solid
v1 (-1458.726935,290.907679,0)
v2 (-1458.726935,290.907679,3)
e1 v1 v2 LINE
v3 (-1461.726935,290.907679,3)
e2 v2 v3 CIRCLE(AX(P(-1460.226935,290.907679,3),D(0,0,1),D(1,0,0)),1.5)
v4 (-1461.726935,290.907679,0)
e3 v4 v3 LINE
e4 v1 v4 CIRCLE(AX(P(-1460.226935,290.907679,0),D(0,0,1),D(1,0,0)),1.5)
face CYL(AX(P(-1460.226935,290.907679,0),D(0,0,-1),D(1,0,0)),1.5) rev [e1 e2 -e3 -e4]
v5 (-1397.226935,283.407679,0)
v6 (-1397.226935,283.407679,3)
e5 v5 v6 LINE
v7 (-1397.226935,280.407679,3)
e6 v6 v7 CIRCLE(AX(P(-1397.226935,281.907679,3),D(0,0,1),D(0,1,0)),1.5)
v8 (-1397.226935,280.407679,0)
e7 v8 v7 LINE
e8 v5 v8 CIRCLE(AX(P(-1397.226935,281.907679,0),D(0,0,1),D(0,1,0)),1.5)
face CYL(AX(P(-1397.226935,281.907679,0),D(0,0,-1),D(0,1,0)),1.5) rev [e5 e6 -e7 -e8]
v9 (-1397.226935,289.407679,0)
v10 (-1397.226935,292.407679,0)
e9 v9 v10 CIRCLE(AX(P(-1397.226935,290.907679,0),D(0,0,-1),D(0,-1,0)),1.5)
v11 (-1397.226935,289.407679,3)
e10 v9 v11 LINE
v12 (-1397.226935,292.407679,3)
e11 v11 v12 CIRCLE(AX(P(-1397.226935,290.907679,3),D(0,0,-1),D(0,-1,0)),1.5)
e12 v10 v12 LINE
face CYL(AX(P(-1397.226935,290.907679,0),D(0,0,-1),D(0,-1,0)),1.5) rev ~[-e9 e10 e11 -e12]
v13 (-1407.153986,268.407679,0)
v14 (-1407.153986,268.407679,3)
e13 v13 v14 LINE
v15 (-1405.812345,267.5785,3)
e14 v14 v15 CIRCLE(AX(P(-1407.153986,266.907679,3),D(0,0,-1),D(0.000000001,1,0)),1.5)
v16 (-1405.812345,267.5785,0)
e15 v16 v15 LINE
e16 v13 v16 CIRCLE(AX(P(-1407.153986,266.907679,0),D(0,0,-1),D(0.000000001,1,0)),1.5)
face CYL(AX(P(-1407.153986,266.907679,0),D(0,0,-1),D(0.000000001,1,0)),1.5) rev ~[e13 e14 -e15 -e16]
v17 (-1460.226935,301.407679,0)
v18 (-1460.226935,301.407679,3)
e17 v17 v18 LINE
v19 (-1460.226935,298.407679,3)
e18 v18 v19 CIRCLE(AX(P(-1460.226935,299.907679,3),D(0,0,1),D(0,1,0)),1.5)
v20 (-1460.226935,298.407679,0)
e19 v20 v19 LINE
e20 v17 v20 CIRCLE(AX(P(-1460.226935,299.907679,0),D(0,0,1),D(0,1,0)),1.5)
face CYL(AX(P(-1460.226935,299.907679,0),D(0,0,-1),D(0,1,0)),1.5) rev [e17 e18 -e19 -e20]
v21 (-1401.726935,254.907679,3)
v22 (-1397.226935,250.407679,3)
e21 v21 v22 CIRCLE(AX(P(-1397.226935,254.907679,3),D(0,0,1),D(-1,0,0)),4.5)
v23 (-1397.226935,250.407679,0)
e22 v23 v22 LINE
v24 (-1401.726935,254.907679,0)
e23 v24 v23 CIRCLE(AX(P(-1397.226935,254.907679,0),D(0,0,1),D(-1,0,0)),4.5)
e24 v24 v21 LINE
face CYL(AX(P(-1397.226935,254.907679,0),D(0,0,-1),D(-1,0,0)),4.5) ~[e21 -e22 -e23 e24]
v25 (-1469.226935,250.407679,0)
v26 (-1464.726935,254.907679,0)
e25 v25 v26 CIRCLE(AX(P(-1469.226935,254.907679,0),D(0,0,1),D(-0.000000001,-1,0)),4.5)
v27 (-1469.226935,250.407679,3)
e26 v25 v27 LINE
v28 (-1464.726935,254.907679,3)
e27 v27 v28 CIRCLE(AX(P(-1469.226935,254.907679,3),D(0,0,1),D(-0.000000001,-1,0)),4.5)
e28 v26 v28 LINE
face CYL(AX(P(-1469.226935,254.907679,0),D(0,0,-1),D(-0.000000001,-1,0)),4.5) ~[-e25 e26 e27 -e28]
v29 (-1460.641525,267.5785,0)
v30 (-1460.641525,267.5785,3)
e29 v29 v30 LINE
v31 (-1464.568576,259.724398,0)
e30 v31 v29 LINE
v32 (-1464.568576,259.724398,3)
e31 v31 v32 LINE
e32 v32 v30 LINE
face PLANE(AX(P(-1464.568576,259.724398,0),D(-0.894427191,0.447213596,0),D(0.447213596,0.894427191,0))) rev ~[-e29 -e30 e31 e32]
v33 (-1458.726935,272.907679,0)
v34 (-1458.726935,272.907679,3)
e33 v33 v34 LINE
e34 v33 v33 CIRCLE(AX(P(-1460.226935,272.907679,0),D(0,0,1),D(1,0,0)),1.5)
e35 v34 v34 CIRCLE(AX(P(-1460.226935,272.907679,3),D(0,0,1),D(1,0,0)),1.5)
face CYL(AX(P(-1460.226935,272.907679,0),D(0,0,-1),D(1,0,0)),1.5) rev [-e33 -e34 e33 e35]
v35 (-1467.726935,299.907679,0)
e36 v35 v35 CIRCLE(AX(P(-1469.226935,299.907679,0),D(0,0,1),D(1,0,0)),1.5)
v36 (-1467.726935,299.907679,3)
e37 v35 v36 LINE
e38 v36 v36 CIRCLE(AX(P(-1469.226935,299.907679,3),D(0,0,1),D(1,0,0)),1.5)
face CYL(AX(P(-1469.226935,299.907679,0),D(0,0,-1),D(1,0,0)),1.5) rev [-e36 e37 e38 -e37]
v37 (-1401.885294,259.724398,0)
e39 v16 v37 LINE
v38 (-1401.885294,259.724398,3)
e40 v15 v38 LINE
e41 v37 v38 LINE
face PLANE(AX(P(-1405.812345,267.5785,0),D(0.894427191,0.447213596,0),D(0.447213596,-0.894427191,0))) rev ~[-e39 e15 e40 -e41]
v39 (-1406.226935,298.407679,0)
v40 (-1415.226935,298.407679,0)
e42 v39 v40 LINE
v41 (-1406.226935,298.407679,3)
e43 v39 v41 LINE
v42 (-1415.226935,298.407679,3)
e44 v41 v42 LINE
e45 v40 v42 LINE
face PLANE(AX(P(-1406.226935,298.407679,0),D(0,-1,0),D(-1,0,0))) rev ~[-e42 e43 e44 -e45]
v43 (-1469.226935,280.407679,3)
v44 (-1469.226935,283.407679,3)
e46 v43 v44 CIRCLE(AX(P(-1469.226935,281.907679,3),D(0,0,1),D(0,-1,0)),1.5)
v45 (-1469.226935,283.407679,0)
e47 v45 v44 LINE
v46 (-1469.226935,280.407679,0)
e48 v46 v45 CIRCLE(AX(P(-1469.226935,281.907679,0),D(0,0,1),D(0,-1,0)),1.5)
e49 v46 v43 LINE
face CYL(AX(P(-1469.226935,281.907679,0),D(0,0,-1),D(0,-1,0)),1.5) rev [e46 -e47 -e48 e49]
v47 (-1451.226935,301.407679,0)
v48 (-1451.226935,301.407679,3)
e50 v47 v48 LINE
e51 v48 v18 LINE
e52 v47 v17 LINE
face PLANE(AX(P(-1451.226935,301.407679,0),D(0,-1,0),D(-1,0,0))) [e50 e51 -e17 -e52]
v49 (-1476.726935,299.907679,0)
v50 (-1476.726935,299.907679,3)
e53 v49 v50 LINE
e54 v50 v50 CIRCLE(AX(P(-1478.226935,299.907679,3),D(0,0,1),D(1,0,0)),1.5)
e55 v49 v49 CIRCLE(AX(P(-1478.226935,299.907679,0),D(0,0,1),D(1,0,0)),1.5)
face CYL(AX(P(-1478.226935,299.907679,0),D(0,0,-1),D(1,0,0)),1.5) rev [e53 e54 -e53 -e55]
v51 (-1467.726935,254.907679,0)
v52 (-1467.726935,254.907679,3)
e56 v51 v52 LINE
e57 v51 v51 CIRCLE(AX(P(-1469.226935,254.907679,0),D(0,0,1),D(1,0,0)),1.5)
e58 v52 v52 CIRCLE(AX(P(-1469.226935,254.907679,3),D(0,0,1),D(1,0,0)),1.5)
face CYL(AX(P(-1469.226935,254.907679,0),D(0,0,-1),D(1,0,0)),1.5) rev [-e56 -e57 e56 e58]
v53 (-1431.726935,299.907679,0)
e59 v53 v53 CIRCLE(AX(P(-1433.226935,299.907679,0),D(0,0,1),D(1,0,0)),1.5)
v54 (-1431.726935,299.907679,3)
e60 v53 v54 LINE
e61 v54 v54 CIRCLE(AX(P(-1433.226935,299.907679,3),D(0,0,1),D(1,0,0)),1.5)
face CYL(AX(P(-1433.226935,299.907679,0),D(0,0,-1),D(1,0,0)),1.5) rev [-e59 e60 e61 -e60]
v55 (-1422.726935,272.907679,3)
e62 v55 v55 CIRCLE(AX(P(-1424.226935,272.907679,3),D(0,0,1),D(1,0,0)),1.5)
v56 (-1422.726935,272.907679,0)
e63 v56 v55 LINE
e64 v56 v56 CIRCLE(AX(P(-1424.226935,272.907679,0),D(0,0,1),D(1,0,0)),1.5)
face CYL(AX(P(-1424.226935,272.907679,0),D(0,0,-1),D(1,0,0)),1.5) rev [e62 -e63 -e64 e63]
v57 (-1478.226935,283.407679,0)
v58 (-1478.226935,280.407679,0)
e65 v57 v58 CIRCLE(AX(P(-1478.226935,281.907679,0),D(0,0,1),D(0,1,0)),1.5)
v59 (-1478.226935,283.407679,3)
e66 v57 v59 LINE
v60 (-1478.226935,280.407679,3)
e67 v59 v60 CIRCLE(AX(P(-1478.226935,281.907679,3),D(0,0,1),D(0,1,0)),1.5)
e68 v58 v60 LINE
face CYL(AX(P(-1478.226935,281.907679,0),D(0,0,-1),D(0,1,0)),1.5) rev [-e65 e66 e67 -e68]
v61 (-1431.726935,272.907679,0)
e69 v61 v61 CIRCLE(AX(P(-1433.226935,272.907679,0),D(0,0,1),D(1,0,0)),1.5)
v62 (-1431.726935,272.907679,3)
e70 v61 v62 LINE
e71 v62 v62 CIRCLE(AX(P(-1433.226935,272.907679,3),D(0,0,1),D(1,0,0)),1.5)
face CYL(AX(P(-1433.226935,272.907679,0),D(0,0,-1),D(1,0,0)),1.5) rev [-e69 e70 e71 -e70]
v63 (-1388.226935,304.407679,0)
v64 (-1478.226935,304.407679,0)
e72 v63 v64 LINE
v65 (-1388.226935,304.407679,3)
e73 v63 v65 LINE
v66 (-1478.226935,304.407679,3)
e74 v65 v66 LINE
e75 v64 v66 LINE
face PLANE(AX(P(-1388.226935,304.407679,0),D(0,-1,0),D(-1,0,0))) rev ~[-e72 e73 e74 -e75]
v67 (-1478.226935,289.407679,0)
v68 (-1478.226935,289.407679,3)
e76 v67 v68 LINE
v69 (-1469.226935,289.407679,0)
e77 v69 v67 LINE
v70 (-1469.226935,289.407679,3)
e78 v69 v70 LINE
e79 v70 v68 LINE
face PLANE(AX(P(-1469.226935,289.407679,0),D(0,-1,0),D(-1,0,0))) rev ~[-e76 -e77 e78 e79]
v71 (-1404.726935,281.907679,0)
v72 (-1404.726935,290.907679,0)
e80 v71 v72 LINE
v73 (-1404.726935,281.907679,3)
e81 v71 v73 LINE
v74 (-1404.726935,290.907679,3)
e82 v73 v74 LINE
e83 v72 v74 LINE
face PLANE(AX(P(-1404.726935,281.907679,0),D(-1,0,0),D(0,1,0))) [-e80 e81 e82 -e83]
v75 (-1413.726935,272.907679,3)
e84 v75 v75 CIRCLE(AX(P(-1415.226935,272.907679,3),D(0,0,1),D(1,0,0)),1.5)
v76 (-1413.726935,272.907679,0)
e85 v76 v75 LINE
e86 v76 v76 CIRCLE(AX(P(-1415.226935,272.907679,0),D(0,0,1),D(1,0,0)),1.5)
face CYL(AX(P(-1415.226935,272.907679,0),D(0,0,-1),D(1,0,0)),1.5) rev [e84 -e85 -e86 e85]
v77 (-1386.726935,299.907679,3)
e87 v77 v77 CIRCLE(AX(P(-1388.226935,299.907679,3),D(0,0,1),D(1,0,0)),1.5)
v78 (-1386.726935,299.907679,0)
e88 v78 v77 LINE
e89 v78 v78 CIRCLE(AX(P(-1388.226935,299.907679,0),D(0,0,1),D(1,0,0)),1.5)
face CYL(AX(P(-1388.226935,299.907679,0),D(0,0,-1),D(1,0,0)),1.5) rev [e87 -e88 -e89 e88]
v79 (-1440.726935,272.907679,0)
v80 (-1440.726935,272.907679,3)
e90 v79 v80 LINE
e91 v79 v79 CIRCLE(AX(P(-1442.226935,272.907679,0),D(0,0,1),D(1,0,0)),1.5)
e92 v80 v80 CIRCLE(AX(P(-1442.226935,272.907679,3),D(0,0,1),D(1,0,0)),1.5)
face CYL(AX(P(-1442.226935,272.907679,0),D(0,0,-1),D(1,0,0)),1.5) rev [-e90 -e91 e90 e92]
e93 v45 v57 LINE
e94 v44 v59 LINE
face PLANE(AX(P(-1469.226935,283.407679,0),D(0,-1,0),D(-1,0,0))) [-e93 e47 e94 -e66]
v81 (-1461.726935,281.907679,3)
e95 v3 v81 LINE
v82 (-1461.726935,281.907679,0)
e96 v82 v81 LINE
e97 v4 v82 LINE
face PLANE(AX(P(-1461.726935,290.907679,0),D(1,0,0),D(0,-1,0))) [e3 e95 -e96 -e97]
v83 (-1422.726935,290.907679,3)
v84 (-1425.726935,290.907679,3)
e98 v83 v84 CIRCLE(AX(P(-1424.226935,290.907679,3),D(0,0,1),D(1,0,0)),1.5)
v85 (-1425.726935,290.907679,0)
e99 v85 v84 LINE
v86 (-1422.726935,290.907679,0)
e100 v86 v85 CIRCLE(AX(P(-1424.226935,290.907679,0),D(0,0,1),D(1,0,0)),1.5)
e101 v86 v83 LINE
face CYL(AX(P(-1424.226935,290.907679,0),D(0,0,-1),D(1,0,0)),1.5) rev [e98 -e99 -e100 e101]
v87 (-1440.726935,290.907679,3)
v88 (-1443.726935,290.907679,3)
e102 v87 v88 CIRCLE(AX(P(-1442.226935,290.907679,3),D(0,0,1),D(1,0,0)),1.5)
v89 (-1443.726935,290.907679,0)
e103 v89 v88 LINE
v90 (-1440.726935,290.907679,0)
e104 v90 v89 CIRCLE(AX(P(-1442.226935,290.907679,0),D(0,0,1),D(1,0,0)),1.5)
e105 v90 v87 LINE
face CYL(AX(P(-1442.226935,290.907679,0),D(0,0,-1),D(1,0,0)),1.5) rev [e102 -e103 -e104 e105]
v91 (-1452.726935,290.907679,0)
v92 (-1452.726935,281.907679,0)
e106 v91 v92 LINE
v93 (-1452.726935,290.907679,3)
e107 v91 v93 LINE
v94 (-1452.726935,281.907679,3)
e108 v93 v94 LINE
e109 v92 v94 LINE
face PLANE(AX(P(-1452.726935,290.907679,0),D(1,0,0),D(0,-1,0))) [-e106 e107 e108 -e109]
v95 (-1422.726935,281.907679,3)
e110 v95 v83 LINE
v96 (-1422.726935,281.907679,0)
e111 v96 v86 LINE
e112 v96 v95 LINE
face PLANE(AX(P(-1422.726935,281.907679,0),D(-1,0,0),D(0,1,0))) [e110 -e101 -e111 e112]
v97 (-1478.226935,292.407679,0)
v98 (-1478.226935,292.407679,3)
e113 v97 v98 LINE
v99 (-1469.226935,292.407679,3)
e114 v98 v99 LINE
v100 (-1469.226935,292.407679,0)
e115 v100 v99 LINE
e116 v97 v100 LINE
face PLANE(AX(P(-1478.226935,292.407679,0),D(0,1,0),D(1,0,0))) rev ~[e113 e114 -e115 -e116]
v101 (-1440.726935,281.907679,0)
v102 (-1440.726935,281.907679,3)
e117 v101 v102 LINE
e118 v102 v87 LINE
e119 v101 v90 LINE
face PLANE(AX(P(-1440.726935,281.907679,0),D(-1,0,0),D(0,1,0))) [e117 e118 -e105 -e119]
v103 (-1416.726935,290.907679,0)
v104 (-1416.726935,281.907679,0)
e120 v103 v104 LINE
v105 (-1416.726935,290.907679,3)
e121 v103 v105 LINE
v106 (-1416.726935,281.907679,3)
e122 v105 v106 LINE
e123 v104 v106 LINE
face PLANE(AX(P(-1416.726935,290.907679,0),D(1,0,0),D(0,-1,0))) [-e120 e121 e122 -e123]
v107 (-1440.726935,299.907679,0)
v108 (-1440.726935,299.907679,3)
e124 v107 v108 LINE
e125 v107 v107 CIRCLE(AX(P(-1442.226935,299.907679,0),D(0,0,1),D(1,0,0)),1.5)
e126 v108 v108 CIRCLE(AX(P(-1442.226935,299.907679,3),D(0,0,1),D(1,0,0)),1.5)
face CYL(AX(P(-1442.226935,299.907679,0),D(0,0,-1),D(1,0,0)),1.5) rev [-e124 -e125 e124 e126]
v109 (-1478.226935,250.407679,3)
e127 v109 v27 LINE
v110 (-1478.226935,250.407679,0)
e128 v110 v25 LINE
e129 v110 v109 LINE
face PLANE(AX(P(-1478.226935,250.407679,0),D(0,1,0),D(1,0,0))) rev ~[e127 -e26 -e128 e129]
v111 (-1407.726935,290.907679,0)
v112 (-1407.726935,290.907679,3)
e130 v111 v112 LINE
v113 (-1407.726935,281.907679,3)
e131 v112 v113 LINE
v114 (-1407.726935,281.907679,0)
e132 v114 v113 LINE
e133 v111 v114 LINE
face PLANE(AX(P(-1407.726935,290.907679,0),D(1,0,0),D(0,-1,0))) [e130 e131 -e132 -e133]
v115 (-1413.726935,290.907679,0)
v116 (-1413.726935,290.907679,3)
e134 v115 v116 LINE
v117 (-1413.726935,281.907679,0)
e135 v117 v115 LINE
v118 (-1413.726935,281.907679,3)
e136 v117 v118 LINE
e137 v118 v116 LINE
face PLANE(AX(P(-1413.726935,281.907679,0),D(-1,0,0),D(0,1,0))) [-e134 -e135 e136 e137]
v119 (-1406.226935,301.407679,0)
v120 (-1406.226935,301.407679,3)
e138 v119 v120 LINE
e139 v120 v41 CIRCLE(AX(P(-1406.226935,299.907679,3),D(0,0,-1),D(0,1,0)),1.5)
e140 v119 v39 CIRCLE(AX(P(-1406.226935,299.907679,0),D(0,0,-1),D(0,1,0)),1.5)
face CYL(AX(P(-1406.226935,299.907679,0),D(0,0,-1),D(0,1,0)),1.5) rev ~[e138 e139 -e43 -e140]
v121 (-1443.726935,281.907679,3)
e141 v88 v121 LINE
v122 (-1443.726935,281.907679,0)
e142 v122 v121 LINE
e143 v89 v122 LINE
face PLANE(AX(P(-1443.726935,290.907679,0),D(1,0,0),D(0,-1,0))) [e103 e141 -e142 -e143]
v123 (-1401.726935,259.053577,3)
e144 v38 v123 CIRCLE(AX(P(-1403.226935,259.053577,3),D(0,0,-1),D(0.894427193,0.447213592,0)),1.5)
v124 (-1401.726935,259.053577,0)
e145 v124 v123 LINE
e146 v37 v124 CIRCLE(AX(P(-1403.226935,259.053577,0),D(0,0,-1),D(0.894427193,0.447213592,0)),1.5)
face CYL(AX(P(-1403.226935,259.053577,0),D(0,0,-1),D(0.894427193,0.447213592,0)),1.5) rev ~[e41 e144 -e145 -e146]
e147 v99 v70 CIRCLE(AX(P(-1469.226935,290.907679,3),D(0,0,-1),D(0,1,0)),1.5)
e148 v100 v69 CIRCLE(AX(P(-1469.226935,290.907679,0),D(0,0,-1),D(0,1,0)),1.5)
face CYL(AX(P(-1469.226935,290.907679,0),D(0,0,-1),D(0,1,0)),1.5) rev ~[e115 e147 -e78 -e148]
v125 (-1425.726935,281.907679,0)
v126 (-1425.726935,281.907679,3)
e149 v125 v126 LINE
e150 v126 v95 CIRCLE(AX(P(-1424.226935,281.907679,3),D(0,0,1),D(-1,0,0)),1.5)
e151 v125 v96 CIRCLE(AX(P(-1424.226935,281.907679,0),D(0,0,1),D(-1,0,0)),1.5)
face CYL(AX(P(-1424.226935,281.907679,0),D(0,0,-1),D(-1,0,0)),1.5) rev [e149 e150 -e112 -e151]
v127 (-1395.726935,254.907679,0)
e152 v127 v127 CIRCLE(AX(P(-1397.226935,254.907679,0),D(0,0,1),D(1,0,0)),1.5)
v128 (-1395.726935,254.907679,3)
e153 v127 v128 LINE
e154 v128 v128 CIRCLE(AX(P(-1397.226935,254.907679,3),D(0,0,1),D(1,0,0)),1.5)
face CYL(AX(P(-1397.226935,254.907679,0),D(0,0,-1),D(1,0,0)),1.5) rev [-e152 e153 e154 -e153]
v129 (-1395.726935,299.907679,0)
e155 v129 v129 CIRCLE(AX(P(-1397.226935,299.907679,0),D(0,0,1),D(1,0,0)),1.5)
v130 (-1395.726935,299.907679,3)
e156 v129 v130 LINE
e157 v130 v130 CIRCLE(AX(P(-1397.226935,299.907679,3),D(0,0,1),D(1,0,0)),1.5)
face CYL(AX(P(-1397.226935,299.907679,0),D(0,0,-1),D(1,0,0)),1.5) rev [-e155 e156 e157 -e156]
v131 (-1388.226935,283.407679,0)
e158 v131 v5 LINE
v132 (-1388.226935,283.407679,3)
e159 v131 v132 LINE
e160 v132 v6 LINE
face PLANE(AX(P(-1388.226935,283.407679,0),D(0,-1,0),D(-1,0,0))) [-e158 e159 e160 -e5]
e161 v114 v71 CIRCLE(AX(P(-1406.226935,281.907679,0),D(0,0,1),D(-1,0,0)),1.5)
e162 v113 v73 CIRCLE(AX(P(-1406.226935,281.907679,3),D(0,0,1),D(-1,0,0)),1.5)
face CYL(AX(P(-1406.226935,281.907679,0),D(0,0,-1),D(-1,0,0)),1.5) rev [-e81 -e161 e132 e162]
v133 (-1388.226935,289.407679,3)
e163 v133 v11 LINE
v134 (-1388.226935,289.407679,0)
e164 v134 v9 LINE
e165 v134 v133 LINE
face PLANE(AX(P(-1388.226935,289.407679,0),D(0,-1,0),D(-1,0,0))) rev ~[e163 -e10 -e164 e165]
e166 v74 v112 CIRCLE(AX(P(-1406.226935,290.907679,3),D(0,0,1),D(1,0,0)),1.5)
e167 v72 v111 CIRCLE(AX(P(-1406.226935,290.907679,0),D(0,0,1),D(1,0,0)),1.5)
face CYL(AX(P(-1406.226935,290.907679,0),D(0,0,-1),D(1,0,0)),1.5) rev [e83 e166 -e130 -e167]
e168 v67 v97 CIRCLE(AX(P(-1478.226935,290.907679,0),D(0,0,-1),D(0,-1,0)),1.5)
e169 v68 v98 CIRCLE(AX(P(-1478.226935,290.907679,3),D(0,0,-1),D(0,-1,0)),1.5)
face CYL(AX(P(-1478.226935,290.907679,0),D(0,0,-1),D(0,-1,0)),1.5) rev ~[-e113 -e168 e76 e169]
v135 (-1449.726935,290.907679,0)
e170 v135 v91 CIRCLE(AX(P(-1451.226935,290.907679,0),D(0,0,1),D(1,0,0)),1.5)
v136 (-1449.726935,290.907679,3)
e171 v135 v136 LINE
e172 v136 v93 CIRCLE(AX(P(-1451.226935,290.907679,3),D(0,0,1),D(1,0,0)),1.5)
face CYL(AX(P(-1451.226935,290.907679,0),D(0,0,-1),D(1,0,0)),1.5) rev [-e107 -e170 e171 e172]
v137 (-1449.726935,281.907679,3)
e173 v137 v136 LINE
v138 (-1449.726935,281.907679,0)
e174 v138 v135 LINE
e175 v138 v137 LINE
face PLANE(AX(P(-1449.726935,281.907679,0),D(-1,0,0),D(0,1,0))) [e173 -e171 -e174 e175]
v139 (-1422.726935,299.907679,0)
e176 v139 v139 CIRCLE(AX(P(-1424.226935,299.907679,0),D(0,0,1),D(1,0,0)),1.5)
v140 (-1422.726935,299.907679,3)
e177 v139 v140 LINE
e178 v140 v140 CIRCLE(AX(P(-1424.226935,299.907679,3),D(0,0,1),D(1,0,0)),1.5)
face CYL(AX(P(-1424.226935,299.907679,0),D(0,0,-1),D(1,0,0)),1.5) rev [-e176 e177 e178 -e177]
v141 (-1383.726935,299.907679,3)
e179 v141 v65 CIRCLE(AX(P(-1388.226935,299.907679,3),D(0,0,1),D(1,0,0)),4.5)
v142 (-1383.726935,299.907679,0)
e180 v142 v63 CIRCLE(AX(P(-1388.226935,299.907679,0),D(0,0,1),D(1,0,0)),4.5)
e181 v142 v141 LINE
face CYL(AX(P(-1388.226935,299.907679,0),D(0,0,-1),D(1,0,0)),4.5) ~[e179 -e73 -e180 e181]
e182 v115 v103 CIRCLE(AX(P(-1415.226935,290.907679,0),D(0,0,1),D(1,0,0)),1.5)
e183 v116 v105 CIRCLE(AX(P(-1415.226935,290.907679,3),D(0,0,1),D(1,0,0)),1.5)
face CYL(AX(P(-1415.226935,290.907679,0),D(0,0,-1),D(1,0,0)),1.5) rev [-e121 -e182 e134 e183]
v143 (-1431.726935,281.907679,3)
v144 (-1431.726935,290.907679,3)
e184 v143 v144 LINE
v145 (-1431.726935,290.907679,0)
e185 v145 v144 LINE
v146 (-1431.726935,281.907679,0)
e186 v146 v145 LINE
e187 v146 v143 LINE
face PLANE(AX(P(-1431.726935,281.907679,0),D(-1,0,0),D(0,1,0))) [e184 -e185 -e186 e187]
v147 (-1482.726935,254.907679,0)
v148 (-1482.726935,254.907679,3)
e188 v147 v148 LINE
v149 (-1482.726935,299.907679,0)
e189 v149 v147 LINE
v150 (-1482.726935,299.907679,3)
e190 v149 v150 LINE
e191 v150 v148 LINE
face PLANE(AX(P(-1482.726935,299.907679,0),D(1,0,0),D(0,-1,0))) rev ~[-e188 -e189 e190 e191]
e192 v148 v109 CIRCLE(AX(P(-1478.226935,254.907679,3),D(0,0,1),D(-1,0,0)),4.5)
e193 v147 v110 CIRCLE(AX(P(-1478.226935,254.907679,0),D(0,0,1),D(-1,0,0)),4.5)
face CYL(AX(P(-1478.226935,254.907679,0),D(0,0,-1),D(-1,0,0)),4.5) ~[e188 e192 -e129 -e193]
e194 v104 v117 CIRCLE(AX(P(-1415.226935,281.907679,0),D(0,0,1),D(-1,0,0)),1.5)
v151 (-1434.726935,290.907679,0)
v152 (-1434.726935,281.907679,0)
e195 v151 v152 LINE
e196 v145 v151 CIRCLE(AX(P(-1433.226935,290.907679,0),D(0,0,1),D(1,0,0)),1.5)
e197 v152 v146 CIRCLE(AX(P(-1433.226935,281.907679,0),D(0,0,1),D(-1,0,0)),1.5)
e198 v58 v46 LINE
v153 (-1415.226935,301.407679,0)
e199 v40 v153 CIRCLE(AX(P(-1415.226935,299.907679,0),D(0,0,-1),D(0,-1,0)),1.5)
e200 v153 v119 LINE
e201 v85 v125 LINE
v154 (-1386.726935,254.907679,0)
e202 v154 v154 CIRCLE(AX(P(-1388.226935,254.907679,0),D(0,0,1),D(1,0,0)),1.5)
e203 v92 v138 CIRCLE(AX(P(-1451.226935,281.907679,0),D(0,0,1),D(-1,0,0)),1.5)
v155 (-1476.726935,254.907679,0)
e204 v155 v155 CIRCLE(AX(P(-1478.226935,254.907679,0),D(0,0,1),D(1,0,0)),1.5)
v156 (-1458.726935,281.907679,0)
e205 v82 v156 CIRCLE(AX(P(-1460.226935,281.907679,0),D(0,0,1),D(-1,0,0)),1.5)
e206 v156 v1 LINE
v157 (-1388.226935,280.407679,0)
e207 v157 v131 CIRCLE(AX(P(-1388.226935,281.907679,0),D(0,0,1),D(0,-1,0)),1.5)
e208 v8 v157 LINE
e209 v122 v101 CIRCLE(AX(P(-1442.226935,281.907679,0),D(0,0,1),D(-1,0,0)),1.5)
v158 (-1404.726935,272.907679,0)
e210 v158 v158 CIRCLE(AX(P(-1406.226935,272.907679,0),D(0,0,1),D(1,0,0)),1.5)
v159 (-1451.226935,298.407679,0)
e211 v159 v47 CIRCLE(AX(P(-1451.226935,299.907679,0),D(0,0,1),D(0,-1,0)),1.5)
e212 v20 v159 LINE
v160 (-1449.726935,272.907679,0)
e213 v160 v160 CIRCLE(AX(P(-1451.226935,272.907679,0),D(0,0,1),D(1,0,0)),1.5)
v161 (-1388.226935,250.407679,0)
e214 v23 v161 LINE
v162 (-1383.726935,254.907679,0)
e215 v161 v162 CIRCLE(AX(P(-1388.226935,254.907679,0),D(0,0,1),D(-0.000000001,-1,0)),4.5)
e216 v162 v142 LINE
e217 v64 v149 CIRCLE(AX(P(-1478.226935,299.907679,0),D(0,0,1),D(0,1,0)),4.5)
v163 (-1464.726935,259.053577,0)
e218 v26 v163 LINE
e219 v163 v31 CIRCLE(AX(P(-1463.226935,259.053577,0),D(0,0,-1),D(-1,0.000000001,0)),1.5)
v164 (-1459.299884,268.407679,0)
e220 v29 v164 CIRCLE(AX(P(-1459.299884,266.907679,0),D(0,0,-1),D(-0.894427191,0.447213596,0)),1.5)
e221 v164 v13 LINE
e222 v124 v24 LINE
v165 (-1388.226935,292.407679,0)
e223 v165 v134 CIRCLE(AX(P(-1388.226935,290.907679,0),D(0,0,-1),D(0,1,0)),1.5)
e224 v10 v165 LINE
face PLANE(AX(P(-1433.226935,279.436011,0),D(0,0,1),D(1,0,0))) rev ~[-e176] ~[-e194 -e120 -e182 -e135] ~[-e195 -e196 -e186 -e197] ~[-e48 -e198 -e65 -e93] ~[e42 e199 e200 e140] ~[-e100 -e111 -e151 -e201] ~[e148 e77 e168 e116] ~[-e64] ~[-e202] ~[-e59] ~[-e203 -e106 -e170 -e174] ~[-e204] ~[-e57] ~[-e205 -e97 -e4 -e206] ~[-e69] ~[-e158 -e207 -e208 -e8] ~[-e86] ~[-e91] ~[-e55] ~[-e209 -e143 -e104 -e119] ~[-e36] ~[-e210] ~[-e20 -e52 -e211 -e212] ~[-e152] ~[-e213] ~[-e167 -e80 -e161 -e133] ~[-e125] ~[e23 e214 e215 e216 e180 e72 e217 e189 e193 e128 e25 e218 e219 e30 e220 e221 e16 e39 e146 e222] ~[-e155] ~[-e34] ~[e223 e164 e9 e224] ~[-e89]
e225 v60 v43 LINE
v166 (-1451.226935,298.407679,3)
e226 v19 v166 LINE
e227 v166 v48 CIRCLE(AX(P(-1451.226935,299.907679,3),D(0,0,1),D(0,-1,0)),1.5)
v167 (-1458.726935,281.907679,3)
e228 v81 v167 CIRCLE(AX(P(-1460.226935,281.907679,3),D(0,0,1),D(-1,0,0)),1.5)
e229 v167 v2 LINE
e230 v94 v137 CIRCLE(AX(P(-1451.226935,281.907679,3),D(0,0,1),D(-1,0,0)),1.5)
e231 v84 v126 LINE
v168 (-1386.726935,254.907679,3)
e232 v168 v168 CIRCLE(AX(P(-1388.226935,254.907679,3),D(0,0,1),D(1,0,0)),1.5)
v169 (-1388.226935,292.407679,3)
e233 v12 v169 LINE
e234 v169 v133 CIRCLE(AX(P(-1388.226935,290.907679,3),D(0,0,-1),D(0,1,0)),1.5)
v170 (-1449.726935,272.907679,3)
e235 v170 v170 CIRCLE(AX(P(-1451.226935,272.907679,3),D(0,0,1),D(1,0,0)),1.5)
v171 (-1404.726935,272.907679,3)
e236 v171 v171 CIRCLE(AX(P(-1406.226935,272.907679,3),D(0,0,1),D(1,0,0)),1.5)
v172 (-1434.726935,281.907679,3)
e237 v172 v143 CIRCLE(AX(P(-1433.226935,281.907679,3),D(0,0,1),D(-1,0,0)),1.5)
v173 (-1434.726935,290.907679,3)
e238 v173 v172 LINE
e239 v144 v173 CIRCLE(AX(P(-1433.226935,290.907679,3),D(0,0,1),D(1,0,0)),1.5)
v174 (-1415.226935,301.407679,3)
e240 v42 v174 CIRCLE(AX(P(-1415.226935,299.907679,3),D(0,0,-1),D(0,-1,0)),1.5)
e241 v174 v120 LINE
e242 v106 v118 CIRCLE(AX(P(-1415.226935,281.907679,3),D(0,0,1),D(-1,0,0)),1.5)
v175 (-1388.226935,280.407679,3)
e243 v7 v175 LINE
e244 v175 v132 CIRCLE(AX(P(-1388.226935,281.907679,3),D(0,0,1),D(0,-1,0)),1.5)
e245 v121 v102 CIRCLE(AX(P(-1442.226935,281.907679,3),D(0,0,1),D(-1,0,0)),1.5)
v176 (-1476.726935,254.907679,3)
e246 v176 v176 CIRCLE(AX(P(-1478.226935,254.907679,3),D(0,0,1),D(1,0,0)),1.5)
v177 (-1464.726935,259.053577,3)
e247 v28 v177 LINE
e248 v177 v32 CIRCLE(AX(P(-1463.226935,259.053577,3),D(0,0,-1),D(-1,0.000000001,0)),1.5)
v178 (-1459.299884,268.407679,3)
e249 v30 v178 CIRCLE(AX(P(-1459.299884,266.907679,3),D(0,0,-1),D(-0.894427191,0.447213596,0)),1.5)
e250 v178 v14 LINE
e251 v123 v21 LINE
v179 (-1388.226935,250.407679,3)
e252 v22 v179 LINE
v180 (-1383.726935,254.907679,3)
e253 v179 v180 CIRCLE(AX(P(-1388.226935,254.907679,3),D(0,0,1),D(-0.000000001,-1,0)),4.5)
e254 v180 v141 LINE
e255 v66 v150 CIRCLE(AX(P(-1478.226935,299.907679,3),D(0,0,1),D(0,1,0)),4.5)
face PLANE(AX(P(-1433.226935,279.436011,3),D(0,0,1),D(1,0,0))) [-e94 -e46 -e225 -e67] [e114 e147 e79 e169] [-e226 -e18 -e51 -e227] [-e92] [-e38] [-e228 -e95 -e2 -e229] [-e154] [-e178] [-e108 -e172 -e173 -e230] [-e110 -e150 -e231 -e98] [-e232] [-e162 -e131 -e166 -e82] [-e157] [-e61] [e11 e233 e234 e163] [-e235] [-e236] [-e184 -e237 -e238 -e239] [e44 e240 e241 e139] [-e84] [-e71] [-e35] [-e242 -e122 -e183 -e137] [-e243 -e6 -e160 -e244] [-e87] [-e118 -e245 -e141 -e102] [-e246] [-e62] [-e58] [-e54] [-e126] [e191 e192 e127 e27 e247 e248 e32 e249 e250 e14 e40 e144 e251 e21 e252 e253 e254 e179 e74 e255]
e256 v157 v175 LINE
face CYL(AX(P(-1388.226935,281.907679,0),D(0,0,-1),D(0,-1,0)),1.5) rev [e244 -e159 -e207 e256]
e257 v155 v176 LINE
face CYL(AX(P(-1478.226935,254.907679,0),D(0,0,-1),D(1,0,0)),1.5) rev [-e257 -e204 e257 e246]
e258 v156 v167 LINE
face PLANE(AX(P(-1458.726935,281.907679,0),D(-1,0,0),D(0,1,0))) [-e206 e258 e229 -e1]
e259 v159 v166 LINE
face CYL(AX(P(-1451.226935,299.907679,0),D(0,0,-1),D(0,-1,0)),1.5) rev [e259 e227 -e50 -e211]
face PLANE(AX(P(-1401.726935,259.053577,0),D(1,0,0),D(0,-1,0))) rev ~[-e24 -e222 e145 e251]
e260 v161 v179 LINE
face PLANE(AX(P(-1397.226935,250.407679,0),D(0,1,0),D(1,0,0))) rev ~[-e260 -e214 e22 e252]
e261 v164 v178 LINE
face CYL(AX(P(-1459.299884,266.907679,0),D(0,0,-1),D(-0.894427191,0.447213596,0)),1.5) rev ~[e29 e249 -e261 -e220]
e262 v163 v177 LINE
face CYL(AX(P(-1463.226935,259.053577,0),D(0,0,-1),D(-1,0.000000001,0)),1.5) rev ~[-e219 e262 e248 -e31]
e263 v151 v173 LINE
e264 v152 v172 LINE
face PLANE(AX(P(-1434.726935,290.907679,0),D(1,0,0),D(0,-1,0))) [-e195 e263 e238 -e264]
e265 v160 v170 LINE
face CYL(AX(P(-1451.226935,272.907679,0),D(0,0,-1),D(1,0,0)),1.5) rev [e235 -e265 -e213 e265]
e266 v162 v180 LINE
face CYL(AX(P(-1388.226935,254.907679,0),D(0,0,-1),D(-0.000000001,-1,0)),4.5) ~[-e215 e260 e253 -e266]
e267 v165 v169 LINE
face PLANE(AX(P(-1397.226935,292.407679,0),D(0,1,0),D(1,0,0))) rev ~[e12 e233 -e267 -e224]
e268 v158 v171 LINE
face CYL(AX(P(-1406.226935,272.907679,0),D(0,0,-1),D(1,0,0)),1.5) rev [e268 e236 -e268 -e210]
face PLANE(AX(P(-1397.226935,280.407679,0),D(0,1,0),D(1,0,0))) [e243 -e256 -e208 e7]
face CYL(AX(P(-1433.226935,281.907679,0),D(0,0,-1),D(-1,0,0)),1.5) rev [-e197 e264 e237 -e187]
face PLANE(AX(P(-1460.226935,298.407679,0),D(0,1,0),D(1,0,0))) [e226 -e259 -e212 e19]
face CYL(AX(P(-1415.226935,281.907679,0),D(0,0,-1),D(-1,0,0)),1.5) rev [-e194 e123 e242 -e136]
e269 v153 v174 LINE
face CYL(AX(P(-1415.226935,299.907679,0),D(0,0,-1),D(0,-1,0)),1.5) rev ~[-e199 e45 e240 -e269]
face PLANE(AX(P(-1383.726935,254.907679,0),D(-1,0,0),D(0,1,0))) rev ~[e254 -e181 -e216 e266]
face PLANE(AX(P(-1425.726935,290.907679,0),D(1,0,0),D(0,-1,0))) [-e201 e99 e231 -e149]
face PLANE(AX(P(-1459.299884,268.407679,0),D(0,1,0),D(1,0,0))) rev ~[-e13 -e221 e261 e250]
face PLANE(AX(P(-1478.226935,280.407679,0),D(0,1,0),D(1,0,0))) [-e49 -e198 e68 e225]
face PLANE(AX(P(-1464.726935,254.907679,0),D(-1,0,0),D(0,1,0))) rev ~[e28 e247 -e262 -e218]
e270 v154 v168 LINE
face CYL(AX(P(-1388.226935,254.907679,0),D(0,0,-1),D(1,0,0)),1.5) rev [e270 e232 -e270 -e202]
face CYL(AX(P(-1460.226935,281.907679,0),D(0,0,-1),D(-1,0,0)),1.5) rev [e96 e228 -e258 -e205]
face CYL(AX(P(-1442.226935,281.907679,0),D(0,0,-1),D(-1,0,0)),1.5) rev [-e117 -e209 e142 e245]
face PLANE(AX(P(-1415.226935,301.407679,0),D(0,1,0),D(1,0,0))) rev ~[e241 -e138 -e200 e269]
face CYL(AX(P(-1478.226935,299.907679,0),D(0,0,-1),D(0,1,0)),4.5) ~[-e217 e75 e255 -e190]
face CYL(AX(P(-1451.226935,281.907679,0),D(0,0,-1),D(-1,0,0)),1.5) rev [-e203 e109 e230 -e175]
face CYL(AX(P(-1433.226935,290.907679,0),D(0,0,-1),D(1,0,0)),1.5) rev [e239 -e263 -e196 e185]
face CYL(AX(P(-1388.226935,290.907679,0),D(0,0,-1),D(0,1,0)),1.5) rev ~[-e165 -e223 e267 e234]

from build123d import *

# Parameters (mm, degrees)
MODEL_R                 = 1.5
SALIENTE_EXTRUIR1_DEPTH = 3


with BuildPart() as part:
    # Model → Saliente-Extruir1 (new body)
    with BuildSketch(Plane.XY):
        with BuildLine():
            ThreePointArc((-1383.726934946, 299.907679238), (-1385.04495443, 303.089659753), (-1388.226934946, 304.407679238))
            Line((-1388.226934946, 304.407679238), (-1478.226934946, 304.407679238))
            ThreePointArc((-1478.226934946, 304.407679238), (-1481.408915461, 303.089659753), (-1482.726934946, 299.907679238))
            Line((-1482.726934946, 299.907679238), (-1482.726934946, 254.907679238))
            ThreePointArc((-1482.726934946, 254.907679238), (-1481.408915461, 251.725698722), (-1478.226934946, 250.407679238))
            Line((-1478.226934946, 250.407679238), (-1469.226934946, 250.407679238))
            ThreePointArc((-1469.226934946, 250.407679238), (-1466.04495443, 251.725698722), (-1464.726934946, 254.907679238))
            Line((-1464.726934946, 254.907679238), (-1464.726934946, 259.053577271))
            ThreePointArc((-1464.726934946, 259.053577271), (-1464.68680843, 259.398206652), (-1464.568575732, 259.724397665))
            Line((-1464.568575732, 259.724397665), (-1460.641524749, 267.578499631))
            ThreePointArc((-1460.641524749, 267.578499631), (-1460.088480631, 268.18365545), (-1459.299883963, 268.407679238))
            Line((-1459.299883963, 268.407679238), (-1407.153985929, 268.407679238))
            ThreePointArc((-1407.153985929, 268.407679238), (-1406.365389261, 268.18365545), (-1405.812345142, 267.578499631))
            Line((-1405.812345142, 267.578499631), (-1401.885294159, 259.724397665))
            ThreePointArc((-1401.885294159, 259.724397665), (-1401.767061462, 259.398206652), (-1401.726934946, 259.053577271))
            Line((-1401.726934946, 259.053577271), (-1401.726934946, 254.907679238))
            ThreePointArc((-1401.726934946, 254.907679238), (-1400.408915461, 251.725698722), (-1397.226934946, 250.407679238))
            Line((-1397.226934946, 250.407679238), (-1388.226934946, 250.407679238))
            ThreePointArc((-1388.226934946, 250.407679238), (-1385.04495443, 251.725698722), (-1383.726934946, 254.907679238))
            Line((-1383.726934946, 254.907679238), (-1383.726934946, 299.907679238))
        make_face()
        with Locations((-1478.226934946, 254.907679238)):
            Circle(MODEL_R, mode=Mode.SUBTRACT)
        with Locations((-1469.226934946, 254.907679238)):
            Circle(MODEL_R, mode=Mode.SUBTRACT)
        with Locations((-1460.226934946, 272.907679238)):
            Circle(MODEL_R, mode=Mode.SUBTRACT)
        with Locations((-1451.226934946, 272.907679238)):
            Circle(MODEL_R, mode=Mode.SUBTRACT)
        with Locations((-1442.226934946, 272.907679238)):
            Circle(MODEL_R, mode=Mode.SUBTRACT)
        with Locations((-1433.226934946, 272.907679238)):
            Circle(MODEL_R, mode=Mode.SUBTRACT)
        with Locations((-1397.226934946, 254.907679238)):
            Circle(MODEL_R, mode=Mode.SUBTRACT)
        with Locations((-1388.226934946, 254.907679238)):
            Circle(MODEL_R, mode=Mode.SUBTRACT)
        with Locations((-1424.226934946, 272.907679238)):
            Circle(MODEL_R, mode=Mode.SUBTRACT)
        with Locations((-1415.226934946, 272.907679238)):
            Circle(MODEL_R, mode=Mode.SUBTRACT)
        with Locations((-1406.226934946, 272.907679238)):
            Circle(MODEL_R, mode=Mode.SUBTRACT)
        with BuildLine():
            Line((-1469.226934946, 280.407679238), (-1478.226934946, 280.407679238))
            ThreePointArc((-1478.226934946, 280.407679238), (-1479.726934946, 281.907679238), (-1478.226934946, 283.407679238))
            Line((-1478.226934946, 283.407679238), (-1469.226934946, 283.407679238))
            ThreePointArc((-1469.226934946, 283.407679238), (-1467.726934946, 281.907679238), (-1469.226934946, 280.407679238))
        make_face(mode=Mode.SUBTRACT)
        with BuildLine():
            ThreePointArc((-1478.226934946, 289.407679238), (-1479.726934946, 290.907679238), (-1478.226934946, 292.407679238))
            Line((-1478.226934946, 292.407679238), (-1469.226934946, 292.407679238))
            ThreePointArc((-1469.226934946, 292.407679238), (-1467.726934946, 290.907679238), (-1469.226934946, 289.407679238))
            Line((-1469.226934946, 289.407679238), (-1478.226934946, 289.407679238))
        make_face(mode=Mode.SUBTRACT)
        with BuildLine():
            Line((-1458.726934946, 290.907679238), (-1458.726934946, 281.907679238))
            ThreePointArc((-1458.726934946, 281.907679238), (-1460.226934946, 280.407679238), (-1461.726934946, 281.907679238))
            Line((-1461.726934946, 281.907679238), (-1461.726934946, 290.907679238))
            ThreePointArc((-1461.726934946, 290.907679238), (-1460.226934946, 292.407679238), (-1458.726934946, 290.907679238))
        make_face(mode=Mode.SUBTRACT)
        with BuildLine():
            Line((-1449.726934946, 290.907679238), (-1449.726934946, 281.907679238))
            ThreePointArc((-1449.726934946, 281.907679238), (-1451.226934946, 280.407679238), (-1452.726934946, 281.907679238))
            Line((-1452.726934946, 281.907679238), (-1452.726934946, 290.907679238))
            ThreePointArc((-1452.726934946, 290.907679238), (-1451.226934946, 292.407679238), (-1449.726934946, 290.907679238))
        make_face(mode=Mode.SUBTRACT)
        with BuildLine():
            Line((-1440.726934946, 290.907679238), (-1440.726934946, 281.907679238))
            ThreePointArc((-1440.726934946, 281.907679238), (-1442.226934946, 280.407679238), (-1443.726934946, 281.907679238))
            Line((-1443.726934946, 281.907679238), (-1443.726934946, 290.907679238))
            ThreePointArc((-1443.726934946, 290.907679238), (-1442.226934946, 292.407679238), (-1440.726934946, 290.907679238))
        make_face(mode=Mode.SUBTRACT)
        with BuildLine():
            Line((-1431.726934946, 290.907679238), (-1431.726934946, 281.907679238))
            ThreePointArc((-1431.726934946, 281.907679238), (-1433.226934946, 280.407679238), (-1434.726934946, 281.907679238))
            Line((-1434.726934946, 281.907679238), (-1434.726934946, 290.907679238))
            ThreePointArc((-1434.726934946, 290.907679238), (-1433.226934946, 292.407679238), (-1431.726934946, 290.907679238))
        make_face(mode=Mode.SUBTRACT)
        with Locations((-1478.226934946, 299.907679238)):
            Circle(MODEL_R, mode=Mode.SUBTRACT)
        with Locations((-1469.226934946, 299.907679238)):
            Circle(MODEL_R, mode=Mode.SUBTRACT)
        with BuildLine():
            Line((-1451.226934946, 298.407679238), (-1460.226934946, 298.407679238))
            ThreePointArc((-1460.226934946, 298.407679238), (-1461.726934946, 299.907679238), (-1460.226934946, 301.407679238))
            Line((-1460.226934946, 301.407679238), (-1451.226934946, 301.407679238))
            ThreePointArc((-1451.226934946, 301.407679238), (-1449.726934946, 299.907679238), (-1451.226934946, 298.407679238))
        make_face(mode=Mode.SUBTRACT)
        with Locations((-1442.226934946, 299.907679238)):
            Circle(MODEL_R, mode=Mode.SUBTRACT)
        with Locations((-1433.226934946, 299.907679238)):
            Circle(MODEL_R, mode=Mode.SUBTRACT)
        with BuildLine():
            Line((-1422.726934946, 290.907679238), (-1422.726934946, 281.907679238))
            ThreePointArc((-1422.726934946, 281.907679238), (-1424.226934946, 280.407679238), (-1425.726934946, 281.907679238))
            Line((-1425.726934946, 281.907679238), (-1425.726934946, 290.907679238))
            ThreePointArc((-1425.726934946, 290.907679238), (-1424.226934946, 292.407679238), (-1422.726934946, 290.907679238))
        make_face(mode=Mode.SUBTRACT)
        with BuildLine():
            Line((-1413.726934946, 290.907679238), (-1413.726934946, 281.907679238))
            ThreePointArc((-1413.726934946, 281.907679238), (-1415.226934946, 280.407679238), (-1416.726934946, 281.907679238))
            Line((-1416.726934946, 281.907679238), (-1416.726934946, 290.907679238))
            ThreePointArc((-1416.726934946, 290.907679238), (-1415.226934946, 292.407679238), (-1413.726934946, 290.907679238))
        make_face(mode=Mode.SUBTRACT)
        with BuildLine():
            Line((-1388.226934946, 280.407679238), (-1397.226934946, 280.407679238))
            ThreePointArc((-1397.226934946, 280.407679238), (-1398.726934946, 281.907679238), (-1397.226934946, 283.407679238))
            Line((-1397.226934946, 283.407679238), (-1388.226934946, 283.407679238))
            ThreePointArc((-1388.226934946, 283.407679238), (-1386.726934946, 281.907679238), (-1388.226934946, 280.407679238))
        make_face(mode=Mode.SUBTRACT)
        with BuildLine():
            Line((-1404.726934946, 290.907679238), (-1404.726934946, 281.907679238))
            ThreePointArc((-1404.726934946, 281.907679238), (-1406.226934946, 280.407679238), (-1407.726934946, 281.907679238))
            Line((-1407.726934946, 281.907679238), (-1407.726934946, 290.907679238))
            ThreePointArc((-1407.726934946, 290.907679238), (-1406.226934946, 292.407679238), (-1404.726934946, 290.907679238))
        make_face(mode=Mode.SUBTRACT)
        with BuildLine():
            ThreePointArc((-1397.226934946, 289.407679238), (-1398.726934946, 290.907679238), (-1397.226934946, 292.407679238))
            Line((-1397.226934946, 292.407679238), (-1388.226934946, 292.407679238))
            ThreePointArc((-1388.226934946, 292.407679238), (-1386.726934946, 290.907679238), (-1388.226934946, 289.407679238))
            Line((-1388.226934946, 289.407679238), (-1397.226934946, 289.407679238))
        make_face(mode=Mode.SUBTRACT)
        with Locations((-1424.226934946, 299.907679238)):
            Circle(MODEL_R, mode=Mode.SUBTRACT)
        with BuildLine():
            ThreePointArc((-1415.226934946, 298.407679238), (-1416.726934946, 299.907679238), (-1415.226934946, 301.407679238))
            Line((-1415.226934946, 301.407679238), (-1406.226934946, 301.407679238))
            ThreePointArc((-1406.226934946, 301.407679238), (-1404.726934946, 299.907679238), (-1406.226934946, 298.407679238))
            Line((-1406.226934946, 298.407679238), (-1415.226934946, 298.407679238))
        make_face(mode=Mode.SUBTRACT)
        with Locations((-1397.226934946, 299.907679238)):
            Circle(MODEL_R, mode=Mode.SUBTRACT)
        with Locations((-1388.226934946, 299.907679238)):
            Circle(MODEL_R, mode=Mode.SUBTRACT)
    extrude(amount=SALIENTE_EXTRUIR1_DEPTH)


solid = part.part
